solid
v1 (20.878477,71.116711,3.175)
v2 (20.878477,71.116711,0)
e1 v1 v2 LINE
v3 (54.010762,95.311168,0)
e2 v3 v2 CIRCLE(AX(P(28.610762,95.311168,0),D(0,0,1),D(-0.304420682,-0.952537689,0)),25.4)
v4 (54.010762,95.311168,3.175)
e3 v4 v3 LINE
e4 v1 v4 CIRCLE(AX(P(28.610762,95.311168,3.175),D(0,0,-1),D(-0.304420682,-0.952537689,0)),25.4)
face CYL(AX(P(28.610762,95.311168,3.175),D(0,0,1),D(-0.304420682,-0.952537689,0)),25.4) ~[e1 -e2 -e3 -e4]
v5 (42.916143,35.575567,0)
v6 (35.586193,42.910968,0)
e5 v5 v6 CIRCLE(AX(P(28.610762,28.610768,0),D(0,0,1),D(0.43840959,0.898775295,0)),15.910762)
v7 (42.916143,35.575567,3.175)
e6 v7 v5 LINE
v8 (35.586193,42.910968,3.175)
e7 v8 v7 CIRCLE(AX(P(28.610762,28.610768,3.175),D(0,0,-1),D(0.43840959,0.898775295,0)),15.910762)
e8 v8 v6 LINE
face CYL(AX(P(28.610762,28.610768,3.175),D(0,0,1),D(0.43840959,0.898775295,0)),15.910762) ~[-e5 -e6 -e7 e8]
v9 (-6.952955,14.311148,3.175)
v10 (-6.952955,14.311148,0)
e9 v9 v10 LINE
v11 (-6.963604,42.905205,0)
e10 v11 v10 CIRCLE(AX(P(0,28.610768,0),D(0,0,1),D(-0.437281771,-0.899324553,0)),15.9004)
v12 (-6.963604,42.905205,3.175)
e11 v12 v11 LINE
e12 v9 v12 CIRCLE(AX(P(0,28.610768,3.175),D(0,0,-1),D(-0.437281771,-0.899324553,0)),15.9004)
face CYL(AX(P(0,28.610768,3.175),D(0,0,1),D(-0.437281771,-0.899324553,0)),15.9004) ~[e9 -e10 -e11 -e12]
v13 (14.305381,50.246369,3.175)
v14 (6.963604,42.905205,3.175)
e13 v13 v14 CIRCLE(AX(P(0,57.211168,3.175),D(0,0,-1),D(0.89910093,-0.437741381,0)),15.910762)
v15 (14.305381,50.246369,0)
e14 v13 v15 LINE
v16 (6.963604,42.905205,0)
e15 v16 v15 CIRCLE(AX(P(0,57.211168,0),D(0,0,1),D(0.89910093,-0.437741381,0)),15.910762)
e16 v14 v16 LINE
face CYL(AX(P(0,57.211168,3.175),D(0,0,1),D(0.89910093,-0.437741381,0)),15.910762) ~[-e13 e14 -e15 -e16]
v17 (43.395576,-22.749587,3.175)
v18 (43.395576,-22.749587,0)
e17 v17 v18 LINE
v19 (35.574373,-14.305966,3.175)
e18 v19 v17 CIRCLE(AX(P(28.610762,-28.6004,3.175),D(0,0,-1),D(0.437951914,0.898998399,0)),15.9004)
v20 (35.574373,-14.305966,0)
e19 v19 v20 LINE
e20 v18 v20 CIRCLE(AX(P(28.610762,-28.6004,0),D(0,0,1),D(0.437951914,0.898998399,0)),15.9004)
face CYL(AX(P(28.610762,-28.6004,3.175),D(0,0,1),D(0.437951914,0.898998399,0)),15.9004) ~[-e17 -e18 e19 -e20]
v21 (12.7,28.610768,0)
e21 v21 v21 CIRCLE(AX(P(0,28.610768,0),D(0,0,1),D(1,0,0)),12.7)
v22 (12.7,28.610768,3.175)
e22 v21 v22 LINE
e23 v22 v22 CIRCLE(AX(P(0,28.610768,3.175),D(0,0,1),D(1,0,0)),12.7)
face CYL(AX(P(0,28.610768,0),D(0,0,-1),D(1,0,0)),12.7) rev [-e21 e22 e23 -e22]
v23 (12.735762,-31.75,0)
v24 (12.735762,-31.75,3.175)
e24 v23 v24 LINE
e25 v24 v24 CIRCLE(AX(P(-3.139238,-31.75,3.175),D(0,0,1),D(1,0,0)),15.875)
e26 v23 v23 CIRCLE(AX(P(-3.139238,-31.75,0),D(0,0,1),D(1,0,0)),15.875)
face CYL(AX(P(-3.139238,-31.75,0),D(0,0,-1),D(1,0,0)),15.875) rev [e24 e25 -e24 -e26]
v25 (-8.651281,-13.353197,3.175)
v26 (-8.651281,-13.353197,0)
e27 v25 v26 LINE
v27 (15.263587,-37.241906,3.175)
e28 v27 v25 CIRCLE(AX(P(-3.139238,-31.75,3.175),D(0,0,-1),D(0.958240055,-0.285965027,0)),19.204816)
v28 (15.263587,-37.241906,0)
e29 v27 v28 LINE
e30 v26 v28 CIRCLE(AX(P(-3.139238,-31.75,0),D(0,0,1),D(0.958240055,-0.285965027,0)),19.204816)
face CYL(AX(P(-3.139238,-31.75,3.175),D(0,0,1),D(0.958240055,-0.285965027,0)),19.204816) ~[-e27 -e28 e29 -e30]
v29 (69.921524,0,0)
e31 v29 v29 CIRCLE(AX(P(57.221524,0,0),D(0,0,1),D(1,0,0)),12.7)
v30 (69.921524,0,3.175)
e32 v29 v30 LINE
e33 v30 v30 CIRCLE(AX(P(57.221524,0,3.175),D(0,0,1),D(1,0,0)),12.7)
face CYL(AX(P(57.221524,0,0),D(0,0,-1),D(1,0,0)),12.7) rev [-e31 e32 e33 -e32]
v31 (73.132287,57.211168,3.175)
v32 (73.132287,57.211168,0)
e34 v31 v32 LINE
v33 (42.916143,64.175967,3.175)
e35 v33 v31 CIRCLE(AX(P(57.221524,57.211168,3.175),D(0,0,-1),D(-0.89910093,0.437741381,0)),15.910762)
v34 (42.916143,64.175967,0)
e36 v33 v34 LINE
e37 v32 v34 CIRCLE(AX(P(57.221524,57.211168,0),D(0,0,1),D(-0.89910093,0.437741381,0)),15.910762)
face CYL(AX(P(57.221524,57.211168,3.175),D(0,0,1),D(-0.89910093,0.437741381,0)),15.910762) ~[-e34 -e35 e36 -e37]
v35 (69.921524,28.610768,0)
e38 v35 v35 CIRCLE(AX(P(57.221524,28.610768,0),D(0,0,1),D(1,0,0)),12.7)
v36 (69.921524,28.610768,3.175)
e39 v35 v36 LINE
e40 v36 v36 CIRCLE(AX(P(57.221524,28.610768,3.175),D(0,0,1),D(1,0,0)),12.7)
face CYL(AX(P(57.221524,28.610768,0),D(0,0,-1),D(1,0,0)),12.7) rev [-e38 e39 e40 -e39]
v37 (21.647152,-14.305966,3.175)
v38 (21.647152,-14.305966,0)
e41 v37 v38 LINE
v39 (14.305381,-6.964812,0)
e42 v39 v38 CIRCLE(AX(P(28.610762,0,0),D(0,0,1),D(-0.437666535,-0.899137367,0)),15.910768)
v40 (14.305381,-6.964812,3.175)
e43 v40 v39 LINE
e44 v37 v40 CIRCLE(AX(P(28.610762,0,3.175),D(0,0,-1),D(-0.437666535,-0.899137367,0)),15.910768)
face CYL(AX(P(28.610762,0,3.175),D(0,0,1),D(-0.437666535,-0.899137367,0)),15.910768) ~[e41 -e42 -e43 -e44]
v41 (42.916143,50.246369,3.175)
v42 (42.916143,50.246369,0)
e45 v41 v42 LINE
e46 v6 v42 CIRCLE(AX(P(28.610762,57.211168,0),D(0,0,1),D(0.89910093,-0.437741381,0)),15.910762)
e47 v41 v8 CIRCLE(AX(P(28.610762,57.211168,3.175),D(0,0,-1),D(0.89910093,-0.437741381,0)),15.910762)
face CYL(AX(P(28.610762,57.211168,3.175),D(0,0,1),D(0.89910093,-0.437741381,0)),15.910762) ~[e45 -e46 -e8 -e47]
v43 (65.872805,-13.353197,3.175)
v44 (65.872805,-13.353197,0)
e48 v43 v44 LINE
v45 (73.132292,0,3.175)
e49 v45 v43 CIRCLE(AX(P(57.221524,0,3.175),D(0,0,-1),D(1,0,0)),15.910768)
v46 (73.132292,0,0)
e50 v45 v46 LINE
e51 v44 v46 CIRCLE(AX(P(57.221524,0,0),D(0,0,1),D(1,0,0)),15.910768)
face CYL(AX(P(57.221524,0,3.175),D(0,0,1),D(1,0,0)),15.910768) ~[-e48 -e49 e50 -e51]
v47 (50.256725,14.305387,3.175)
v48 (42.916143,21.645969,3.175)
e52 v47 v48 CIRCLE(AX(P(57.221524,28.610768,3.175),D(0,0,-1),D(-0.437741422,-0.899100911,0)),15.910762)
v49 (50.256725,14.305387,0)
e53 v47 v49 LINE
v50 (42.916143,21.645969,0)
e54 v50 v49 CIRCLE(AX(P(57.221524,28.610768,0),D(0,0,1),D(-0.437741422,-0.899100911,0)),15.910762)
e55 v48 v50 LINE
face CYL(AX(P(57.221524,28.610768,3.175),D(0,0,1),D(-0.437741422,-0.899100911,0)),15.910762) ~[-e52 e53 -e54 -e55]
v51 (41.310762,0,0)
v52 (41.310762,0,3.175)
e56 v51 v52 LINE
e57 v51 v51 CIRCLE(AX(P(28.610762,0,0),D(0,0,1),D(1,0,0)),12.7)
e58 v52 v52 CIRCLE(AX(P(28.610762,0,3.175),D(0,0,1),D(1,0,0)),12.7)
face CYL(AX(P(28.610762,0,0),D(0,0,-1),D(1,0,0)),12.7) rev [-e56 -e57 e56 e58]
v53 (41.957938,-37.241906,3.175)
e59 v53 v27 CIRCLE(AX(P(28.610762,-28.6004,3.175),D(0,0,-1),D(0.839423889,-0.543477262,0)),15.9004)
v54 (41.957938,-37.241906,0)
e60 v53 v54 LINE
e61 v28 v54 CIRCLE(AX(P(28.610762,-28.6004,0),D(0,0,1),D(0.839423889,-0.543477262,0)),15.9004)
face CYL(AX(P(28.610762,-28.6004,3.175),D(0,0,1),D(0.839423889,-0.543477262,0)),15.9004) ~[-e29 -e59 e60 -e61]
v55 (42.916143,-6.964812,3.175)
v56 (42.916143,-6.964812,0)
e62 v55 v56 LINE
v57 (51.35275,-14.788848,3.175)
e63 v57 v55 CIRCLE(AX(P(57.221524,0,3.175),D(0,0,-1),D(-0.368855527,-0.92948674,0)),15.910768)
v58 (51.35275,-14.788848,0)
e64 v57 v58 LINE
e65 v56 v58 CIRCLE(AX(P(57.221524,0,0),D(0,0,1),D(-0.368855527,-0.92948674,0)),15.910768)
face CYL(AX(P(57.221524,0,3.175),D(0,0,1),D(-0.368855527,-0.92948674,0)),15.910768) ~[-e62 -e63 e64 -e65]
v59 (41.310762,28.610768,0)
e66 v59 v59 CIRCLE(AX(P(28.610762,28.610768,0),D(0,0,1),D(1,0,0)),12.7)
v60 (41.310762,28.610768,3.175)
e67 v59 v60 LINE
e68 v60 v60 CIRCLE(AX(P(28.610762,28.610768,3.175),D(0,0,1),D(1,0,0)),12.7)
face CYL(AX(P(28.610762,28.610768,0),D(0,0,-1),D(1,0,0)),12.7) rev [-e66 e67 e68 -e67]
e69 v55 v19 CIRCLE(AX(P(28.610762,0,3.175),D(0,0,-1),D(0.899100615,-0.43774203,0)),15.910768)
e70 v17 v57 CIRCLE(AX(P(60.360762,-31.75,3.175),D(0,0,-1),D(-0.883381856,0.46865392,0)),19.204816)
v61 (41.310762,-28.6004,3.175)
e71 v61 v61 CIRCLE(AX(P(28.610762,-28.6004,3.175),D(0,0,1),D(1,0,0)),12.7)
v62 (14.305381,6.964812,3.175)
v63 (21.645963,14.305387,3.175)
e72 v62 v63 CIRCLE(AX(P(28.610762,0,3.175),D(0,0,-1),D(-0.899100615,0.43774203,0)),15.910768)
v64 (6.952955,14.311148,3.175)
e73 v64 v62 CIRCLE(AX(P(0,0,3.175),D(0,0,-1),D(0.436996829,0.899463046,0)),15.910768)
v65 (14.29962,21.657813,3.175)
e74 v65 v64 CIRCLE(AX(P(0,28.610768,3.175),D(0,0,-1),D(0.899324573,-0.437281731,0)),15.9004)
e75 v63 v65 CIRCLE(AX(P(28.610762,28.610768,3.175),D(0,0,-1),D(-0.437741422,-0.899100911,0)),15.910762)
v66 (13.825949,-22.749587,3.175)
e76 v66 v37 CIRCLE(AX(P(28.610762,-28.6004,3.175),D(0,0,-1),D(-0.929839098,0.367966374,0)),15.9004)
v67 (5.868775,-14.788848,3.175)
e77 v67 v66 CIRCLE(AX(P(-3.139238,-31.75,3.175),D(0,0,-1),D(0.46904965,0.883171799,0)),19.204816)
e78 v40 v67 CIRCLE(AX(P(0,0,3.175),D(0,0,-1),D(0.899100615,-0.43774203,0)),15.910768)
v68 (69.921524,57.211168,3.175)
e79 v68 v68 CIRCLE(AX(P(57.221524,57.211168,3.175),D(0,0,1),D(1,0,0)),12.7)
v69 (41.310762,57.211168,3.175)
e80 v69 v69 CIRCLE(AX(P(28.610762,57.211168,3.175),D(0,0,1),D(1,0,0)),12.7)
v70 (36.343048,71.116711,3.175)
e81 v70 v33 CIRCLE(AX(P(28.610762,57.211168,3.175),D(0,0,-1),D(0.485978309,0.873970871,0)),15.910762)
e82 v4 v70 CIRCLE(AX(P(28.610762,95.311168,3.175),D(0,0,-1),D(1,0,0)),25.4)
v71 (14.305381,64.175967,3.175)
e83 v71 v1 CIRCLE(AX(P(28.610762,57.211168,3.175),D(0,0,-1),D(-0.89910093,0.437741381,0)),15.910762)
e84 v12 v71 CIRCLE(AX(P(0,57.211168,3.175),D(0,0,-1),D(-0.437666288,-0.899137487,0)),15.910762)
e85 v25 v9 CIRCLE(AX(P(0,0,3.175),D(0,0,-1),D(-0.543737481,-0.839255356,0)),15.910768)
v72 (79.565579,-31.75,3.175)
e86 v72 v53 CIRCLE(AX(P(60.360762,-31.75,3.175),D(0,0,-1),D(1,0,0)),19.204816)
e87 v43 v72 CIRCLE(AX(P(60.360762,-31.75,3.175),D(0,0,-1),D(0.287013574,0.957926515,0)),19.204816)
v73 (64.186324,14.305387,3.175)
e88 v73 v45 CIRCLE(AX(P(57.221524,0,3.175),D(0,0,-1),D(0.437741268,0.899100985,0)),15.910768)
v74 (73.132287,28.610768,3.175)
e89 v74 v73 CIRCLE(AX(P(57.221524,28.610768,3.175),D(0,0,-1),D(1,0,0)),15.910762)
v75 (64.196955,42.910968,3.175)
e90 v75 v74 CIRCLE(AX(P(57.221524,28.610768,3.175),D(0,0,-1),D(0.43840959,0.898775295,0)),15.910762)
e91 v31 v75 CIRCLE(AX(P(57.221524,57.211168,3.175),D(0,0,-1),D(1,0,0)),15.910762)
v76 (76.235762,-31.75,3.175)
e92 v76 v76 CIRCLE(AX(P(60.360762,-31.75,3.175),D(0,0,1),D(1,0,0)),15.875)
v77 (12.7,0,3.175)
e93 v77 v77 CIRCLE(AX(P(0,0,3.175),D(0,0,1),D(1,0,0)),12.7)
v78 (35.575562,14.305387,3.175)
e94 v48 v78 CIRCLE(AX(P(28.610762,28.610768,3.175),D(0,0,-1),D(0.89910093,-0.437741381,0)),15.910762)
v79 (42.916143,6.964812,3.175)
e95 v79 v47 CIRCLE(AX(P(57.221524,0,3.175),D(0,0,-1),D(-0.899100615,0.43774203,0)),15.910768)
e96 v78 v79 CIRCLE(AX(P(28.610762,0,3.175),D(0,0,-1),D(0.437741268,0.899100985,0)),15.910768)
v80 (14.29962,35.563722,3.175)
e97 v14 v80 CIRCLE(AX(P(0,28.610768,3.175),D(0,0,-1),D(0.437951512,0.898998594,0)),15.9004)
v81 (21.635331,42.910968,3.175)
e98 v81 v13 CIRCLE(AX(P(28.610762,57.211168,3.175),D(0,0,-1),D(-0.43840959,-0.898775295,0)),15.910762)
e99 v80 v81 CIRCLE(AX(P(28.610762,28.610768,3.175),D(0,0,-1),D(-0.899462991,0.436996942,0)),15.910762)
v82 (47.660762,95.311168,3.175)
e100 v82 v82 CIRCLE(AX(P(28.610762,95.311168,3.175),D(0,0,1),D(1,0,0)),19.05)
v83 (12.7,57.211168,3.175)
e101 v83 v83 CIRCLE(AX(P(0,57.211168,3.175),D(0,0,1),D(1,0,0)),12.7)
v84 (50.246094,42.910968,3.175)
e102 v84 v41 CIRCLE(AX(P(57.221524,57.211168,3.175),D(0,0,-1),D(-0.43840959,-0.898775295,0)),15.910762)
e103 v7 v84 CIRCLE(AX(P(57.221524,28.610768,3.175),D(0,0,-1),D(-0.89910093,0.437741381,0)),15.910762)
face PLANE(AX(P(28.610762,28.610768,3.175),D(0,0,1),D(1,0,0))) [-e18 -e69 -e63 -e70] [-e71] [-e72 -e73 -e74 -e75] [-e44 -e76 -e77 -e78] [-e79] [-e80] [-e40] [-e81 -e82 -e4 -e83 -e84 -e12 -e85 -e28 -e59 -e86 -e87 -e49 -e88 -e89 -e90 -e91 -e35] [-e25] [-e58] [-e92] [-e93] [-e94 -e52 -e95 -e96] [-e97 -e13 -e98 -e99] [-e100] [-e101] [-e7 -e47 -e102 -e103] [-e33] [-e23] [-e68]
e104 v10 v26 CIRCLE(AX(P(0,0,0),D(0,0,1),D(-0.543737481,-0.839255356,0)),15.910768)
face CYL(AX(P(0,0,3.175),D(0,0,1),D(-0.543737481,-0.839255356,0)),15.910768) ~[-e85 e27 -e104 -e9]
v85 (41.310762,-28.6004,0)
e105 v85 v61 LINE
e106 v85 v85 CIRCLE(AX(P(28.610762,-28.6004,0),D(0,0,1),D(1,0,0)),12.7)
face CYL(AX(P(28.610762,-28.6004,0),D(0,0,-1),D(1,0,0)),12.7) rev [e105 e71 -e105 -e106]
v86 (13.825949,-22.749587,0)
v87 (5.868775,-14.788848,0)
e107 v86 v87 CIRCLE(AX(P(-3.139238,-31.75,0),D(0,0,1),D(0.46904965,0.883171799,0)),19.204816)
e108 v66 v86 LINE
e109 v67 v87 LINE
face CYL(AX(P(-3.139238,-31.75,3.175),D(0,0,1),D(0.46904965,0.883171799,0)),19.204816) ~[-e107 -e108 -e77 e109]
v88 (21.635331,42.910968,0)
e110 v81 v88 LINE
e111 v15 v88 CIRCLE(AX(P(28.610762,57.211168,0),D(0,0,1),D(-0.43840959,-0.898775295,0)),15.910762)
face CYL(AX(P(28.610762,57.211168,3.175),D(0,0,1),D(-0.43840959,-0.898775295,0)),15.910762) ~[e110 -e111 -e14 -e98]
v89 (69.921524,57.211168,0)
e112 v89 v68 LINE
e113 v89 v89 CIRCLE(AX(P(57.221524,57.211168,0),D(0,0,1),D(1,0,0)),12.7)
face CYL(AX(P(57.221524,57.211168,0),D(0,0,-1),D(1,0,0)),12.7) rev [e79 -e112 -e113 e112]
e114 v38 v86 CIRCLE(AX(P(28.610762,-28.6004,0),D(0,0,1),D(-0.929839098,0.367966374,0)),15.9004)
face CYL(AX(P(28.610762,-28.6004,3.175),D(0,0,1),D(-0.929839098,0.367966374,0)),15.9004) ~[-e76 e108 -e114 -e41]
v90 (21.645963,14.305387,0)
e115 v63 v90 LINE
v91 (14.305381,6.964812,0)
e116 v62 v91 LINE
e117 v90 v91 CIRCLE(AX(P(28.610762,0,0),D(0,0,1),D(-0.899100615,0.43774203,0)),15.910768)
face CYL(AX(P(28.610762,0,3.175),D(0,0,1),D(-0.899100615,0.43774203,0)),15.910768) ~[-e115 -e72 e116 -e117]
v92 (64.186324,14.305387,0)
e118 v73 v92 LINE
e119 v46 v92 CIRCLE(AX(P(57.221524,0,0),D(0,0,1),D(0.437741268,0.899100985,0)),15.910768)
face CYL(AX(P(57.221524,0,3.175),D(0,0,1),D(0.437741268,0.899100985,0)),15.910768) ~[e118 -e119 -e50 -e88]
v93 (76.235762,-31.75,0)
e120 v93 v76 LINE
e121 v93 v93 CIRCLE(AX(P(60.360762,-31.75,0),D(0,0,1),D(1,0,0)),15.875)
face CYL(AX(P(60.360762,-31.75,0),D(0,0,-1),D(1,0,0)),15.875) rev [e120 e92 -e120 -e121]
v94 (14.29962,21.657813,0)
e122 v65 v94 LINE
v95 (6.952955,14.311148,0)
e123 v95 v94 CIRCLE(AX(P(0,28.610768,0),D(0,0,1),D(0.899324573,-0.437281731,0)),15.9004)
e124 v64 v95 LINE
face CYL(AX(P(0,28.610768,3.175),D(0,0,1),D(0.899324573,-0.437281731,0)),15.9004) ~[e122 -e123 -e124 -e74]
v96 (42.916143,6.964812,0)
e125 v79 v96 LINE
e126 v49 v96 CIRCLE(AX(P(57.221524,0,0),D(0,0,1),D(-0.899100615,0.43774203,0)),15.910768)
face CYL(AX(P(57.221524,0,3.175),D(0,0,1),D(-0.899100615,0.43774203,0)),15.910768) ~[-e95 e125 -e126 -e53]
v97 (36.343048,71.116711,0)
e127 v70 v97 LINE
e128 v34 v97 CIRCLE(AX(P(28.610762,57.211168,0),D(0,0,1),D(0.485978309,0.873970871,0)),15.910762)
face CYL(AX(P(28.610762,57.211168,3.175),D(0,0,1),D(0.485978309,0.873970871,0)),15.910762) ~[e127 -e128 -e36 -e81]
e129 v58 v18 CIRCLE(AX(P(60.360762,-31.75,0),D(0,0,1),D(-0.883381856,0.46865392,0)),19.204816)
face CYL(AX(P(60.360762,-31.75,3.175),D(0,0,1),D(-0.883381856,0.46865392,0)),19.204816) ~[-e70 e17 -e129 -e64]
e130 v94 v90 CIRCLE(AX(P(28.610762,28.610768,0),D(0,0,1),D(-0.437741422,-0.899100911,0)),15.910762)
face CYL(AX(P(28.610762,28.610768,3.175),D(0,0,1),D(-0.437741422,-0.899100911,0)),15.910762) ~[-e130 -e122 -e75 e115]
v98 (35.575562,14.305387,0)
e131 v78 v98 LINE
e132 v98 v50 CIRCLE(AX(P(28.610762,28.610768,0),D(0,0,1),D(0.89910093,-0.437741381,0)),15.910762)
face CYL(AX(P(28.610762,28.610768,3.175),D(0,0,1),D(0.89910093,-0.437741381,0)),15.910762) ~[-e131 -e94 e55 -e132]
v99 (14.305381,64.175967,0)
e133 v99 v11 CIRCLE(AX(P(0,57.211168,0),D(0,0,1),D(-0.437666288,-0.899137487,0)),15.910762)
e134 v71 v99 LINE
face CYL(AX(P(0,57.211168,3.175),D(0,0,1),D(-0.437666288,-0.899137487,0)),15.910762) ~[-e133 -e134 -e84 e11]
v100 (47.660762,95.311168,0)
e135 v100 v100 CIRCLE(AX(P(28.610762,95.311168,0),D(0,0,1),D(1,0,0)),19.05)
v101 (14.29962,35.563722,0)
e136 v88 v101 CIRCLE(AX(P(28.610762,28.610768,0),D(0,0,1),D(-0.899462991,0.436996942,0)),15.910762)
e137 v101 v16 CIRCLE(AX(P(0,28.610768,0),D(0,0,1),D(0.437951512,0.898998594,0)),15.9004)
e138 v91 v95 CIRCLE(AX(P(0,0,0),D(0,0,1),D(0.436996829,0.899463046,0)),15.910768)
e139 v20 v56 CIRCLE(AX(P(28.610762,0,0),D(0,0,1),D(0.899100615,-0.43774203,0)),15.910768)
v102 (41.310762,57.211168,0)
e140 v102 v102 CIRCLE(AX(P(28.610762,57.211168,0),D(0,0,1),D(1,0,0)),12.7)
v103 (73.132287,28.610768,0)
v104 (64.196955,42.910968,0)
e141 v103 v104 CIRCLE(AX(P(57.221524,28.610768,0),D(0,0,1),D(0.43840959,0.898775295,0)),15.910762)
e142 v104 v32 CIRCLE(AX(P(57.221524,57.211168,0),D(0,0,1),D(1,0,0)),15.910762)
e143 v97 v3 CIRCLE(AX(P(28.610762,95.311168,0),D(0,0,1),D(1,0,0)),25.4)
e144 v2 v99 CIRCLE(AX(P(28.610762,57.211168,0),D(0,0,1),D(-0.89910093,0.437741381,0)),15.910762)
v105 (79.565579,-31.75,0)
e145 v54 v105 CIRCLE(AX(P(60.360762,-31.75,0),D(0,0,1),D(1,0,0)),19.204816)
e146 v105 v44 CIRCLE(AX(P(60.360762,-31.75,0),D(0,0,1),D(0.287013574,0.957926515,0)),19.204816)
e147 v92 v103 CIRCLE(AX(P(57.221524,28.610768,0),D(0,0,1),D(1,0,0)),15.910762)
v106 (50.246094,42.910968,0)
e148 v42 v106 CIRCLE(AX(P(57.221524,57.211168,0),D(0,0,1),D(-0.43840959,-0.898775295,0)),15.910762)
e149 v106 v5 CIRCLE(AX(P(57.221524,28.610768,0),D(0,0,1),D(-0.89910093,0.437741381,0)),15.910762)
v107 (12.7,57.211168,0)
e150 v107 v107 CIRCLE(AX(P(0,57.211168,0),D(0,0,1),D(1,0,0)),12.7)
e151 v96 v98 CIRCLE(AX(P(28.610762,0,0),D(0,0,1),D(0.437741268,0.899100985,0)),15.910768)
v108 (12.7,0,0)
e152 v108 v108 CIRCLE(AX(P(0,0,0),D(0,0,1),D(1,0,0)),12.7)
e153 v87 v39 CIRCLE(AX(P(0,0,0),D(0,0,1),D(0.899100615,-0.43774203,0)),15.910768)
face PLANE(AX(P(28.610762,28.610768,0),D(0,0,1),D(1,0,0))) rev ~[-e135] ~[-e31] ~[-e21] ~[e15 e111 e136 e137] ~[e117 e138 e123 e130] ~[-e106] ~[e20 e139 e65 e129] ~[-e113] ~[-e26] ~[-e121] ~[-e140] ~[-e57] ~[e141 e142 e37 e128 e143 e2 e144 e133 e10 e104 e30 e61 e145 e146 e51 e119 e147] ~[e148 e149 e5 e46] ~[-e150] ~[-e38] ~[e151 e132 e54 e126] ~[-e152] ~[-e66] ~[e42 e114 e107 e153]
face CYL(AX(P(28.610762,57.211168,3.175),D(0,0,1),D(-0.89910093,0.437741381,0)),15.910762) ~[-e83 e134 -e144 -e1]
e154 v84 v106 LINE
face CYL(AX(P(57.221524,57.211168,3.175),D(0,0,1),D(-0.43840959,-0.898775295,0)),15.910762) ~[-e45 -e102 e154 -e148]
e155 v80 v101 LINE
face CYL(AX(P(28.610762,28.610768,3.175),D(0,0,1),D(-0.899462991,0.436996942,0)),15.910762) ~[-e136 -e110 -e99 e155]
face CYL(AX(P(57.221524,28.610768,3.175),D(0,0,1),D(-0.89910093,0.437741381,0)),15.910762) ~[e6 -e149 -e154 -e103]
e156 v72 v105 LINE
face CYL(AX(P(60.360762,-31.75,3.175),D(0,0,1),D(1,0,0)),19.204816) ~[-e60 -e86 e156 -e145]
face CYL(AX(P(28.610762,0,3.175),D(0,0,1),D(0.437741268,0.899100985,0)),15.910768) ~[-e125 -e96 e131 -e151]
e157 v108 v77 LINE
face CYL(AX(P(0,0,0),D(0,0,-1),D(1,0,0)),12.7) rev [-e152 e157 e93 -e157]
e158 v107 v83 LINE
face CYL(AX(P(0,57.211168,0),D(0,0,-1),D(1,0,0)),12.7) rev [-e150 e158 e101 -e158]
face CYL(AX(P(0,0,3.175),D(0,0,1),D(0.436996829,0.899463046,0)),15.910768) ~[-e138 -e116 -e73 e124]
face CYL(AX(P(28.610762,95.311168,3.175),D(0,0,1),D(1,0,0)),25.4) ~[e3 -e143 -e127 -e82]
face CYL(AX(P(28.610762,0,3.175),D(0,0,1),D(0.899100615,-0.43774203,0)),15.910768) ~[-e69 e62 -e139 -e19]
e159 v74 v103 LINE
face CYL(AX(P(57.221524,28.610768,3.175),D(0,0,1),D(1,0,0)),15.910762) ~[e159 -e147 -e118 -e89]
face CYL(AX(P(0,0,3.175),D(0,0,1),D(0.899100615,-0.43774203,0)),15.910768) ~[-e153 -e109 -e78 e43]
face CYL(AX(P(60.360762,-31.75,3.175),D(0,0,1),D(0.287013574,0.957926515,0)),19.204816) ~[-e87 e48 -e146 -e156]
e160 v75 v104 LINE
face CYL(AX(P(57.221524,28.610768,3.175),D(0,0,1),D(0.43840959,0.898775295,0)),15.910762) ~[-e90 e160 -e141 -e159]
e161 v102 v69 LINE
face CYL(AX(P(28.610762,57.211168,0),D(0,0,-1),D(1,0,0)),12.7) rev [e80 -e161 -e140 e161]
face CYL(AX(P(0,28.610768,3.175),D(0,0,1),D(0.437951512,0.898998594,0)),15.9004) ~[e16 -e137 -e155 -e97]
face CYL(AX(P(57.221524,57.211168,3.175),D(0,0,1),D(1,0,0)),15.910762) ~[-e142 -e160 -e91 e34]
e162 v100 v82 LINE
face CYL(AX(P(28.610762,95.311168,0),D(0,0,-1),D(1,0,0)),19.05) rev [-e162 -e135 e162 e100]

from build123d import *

# Parameters (mm, degrees)
F0_W     = 112.4385967851
F0_H     = 188.8671554625
F0_R     = 15.875
F0_R_2   = 12.7
F0_R_3   = 19.05
F1_DEPTH = 3.175
F2_W     = 112.4385967851
F2_H     = 188.8671554625
F3_DEPTH = 25.4


with BuildPart() as f1:
    # F0 (on Top) → F1 (new body)
    with BuildSketch(Plane.XY):
        with Locations((28.6107622087, 28.6107677966)):
            Rectangle(F0_W, F0_H)
        with Locations((-3.1392377913, -31.75)):
            Circle(F0_R, mode=Mode.SUBTRACT)
        with Locations((28.6107622087, -28.6004)):
            Circle(F0_R_2, mode=Mode.SUBTRACT)
        Circle(F0_R_2, mode=Mode.SUBTRACT)
        with Locations((28.6107622087, 0)):
            Circle(F0_R_2, mode=Mode.SUBTRACT)
        with Locations((60.3607622087, -31.75)):
            Circle(F0_R, mode=Mode.SUBTRACT)
        with Locations((57.2215244174, 0)):
            Circle(F0_R_2, mode=Mode.SUBTRACT)
        with Locations((0, 28.6107677966)):
            Circle(F0_R_2, mode=Mode.SUBTRACT)
        with Locations((0, 57.2111677966)):
            Circle(F0_R_2, mode=Mode.SUBTRACT)
        with Locations((28.6107622087, 28.6107677966)):
            Circle(F0_R_2, mode=Mode.SUBTRACT)
        with Locations((28.6107622087, 57.2111677966)):
            Circle(F0_R_2, mode=Mode.SUBTRACT)
        with Locations((28.6107622087, 95.3111677966)):
            Circle(F0_R_3, mode=Mode.SUBTRACT)
        with Locations((57.2215244174, 28.6107677966)):
            Circle(F0_R_2, mode=Mode.SUBTRACT)
        with Locations((57.2215244174, 57.2111677966)):
            Circle(F0_R_2, mode=Mode.SUBTRACT)
    extrude(amount=F1_DEPTH)

    # F2 (on face) → F3 (cut)
    with BuildSketch(Plane.XY.offset(3.175)):
        with Locations((28.6107622087, 28.6107677966)):
            Rectangle(F2_W, F2_H)
        with BuildLine():
            ThreePointArc((20.8784768956, 71.1167105009), (13.6314439157, 115.824091125), (54.0107622087, 95.3111677966))
            ThreePointArc((54.0107622087, 95.3111677966), (49.1236855371, 80.3318495036), (36.3430475218, 71.1167105009))
            ThreePointArc((36.3430475218, 71.1167105009), (40.1631717397, 68.1516517023), (42.9161433131, 64.1759668261))
            ThreePointArc((42.9161433131, 64.1759668261), (60.7952365635, 72.715390949), (73.1322866261, 57.2111677966))
            ThreePointArc((73.1322866261, 57.2111677966), (70.7147963313, 48.7800369638), (64.1969551584, 42.9109677966))
            ThreePointArc((64.1969551584, 42.9109677966), (70.7147963313, 37.0418986294), (73.1322866261, 28.6107677966))
            ThreePointArc((73.1322866261, 28.6107677966), (70.7116620279, 20.1746228647), (64.1863240909, 14.3053870058))
            ThreePointArc((64.1863240909, 14.3053870058), (70.7116660444, 8.4361490481), (73.132292214, 0))
            ThreePointArc((73.132292214, 0), (71.2000982328, -7.5994740585), (65.8728052171, -13.3531970855))
            ThreePointArc((65.8728052171, -13.3531970855), (75.766649881, -20.2833701277), (79.5655786775, -31.75))
            ThreePointArc((79.5655786775, -31.75), (63.1358397408, -50.7532607805), (41.9579378153, -37.2419058575))
            ThreePointArc((41.9579378153, -37.2419058575), (28.6107622087, -44.5008), (15.2635866021, -37.2419058575))
            ThreePointArc((15.2635866021, -37.2419058575), (-16.7116606729, -45.3372849651), (-8.6512807997, -13.3531970855))
            ThreePointArc((-8.6512807997, -13.3531970855), (-15.8808701583, 0.9749332764), (-6.9529550782, 14.3111476674))
            ThreePointArc((-6.9529550782, 14.3111476674), (-15.9003988973, 28.6048460855), (-6.9636042292, 42.9052050468))
            ThreePointArc((-6.9636042292, 42.9052050468), (-11.2510776635, 68.4613058168), (14.3053811044, 64.1759668261))
            ThreePointArc((14.3053811044, 64.1759668261), (17.0583526777, 68.1516517023), (20.8784768956, 71.1167105009))
        make_face(mode=Mode.SUBTRACT)
        with BuildLine():
            ThreePointArc((14.3053811043, -6.9648117949), (10.8191046051, -11.6661693551), (5.8687746425, -14.7888476926))
            ThreePointArc((5.8687746425, -14.7888476926), (10.4436598742, -18.1731864338), (13.8259486181, -22.7495874708))
            ThreePointArc((13.8259486181, -22.7495874708), (16.9457643394, -17.795283394), (21.6471515982, -14.3059658585))
            ThreePointArc((21.6471515982, -14.3059658585), (17.3606227479, -11.2510841251), (14.3053811044, -6.9648117949))
        make_face()
        with BuildLine():
            ThreePointArc((35.5743728192, -14.3059658585), (40.275760078, -17.795283394), (43.3955757993, -22.7495874708))
            ThreePointArc((43.3955757993, -22.7495874708), (46.7778645432, -18.1731864338), (51.352749775, -14.7888476926))
            ThreePointArc((51.352749775, -14.7888476926), (46.4024198123, -11.6661693551), (42.9161433131, -6.9648117949))
            ThreePointArc((42.9161433131, -6.9648117949), (39.8609016695, -11.2510841251), (35.5743728192, -14.3059658585))
        make_face()
        with BuildLine():
            ThreePointArc((14.2996204416, 21.6578133609), (11.2432809162, 17.3674873857), (6.9529550782, 14.3111476674))
            ThreePointArc((6.9529550782, 14.3111476674), (11.2459493597, 11.2552723147), (14.3053811043, 6.9648117949))
            ThreePointArc((14.3053811044, 6.9648117949), (17.3601551723, 11.2506165694), (21.6459625352, 14.3053870058))
            ThreePointArc((21.6459625352, 14.3053870058), (17.355498357, 17.3648178728), (14.2996204416, 21.6578133609))
        make_face()
        with BuildLine():
            ThreePointArc((50.2567247439, 14.3053870058), (45.9709163125, 17.3601601983), (42.9161433131, 21.6459687672))
            ThreePointArc((42.9161433131, 21.6459687672), (39.8613703136, 17.3601601983), (35.5755618822, 14.3053870058))
            ThreePointArc((35.5755618822, 14.3053870058), (39.8613692451, 11.2506165694), (42.9161433131, 6.9648117949))
            ThreePointArc((42.9161433131, 6.9648117949), (45.970917381, 11.2506165694), (50.2567247439, 14.3053870058))
        make_face()
        with BuildLine():
            ThreePointArc((21.6353314677, 42.9109677966), (17.3559736701, 45.9647421861), (14.3053811044, 50.2463687672))
            ThreePointArc((14.3053811044, 50.2463687672), (11.2501380202, 45.9600901332), (6.9636042292, 42.9052050468))
            ThreePointArc((6.9636042292, 42.9052050468), (11.2474674185, 39.8498601457), (14.2996204416, 35.5637222323))
            ThreePointArc((14.2996204416, 35.5637222323), (17.3513196546, 39.8525340027), (21.6353314677, 42.9109677966))
        make_face()
        with BuildLine():
            ThreePointArc((50.2460936764, 42.9109677966), (45.9667358788, 45.9647421861), (42.9161433131, 50.2463687672))
            ThreePointArc((42.9161433131, 50.2463687672), (39.8655507473, 45.9647421861), (35.5861929497, 42.9109677966))
            ThreePointArc((35.5861929497, 42.9109677966), (39.8655507473, 39.8571934072), (42.9161433131, 35.5755668261))
            ThreePointArc((42.9161433131, 35.5755668261), (45.9667358788, 39.8571934072), (50.2460936764, 42.9109677966))
        make_face()
    extrude(amount=-F3_DEPTH, mode=Mode.SUBTRACT)


solid = f1.part
